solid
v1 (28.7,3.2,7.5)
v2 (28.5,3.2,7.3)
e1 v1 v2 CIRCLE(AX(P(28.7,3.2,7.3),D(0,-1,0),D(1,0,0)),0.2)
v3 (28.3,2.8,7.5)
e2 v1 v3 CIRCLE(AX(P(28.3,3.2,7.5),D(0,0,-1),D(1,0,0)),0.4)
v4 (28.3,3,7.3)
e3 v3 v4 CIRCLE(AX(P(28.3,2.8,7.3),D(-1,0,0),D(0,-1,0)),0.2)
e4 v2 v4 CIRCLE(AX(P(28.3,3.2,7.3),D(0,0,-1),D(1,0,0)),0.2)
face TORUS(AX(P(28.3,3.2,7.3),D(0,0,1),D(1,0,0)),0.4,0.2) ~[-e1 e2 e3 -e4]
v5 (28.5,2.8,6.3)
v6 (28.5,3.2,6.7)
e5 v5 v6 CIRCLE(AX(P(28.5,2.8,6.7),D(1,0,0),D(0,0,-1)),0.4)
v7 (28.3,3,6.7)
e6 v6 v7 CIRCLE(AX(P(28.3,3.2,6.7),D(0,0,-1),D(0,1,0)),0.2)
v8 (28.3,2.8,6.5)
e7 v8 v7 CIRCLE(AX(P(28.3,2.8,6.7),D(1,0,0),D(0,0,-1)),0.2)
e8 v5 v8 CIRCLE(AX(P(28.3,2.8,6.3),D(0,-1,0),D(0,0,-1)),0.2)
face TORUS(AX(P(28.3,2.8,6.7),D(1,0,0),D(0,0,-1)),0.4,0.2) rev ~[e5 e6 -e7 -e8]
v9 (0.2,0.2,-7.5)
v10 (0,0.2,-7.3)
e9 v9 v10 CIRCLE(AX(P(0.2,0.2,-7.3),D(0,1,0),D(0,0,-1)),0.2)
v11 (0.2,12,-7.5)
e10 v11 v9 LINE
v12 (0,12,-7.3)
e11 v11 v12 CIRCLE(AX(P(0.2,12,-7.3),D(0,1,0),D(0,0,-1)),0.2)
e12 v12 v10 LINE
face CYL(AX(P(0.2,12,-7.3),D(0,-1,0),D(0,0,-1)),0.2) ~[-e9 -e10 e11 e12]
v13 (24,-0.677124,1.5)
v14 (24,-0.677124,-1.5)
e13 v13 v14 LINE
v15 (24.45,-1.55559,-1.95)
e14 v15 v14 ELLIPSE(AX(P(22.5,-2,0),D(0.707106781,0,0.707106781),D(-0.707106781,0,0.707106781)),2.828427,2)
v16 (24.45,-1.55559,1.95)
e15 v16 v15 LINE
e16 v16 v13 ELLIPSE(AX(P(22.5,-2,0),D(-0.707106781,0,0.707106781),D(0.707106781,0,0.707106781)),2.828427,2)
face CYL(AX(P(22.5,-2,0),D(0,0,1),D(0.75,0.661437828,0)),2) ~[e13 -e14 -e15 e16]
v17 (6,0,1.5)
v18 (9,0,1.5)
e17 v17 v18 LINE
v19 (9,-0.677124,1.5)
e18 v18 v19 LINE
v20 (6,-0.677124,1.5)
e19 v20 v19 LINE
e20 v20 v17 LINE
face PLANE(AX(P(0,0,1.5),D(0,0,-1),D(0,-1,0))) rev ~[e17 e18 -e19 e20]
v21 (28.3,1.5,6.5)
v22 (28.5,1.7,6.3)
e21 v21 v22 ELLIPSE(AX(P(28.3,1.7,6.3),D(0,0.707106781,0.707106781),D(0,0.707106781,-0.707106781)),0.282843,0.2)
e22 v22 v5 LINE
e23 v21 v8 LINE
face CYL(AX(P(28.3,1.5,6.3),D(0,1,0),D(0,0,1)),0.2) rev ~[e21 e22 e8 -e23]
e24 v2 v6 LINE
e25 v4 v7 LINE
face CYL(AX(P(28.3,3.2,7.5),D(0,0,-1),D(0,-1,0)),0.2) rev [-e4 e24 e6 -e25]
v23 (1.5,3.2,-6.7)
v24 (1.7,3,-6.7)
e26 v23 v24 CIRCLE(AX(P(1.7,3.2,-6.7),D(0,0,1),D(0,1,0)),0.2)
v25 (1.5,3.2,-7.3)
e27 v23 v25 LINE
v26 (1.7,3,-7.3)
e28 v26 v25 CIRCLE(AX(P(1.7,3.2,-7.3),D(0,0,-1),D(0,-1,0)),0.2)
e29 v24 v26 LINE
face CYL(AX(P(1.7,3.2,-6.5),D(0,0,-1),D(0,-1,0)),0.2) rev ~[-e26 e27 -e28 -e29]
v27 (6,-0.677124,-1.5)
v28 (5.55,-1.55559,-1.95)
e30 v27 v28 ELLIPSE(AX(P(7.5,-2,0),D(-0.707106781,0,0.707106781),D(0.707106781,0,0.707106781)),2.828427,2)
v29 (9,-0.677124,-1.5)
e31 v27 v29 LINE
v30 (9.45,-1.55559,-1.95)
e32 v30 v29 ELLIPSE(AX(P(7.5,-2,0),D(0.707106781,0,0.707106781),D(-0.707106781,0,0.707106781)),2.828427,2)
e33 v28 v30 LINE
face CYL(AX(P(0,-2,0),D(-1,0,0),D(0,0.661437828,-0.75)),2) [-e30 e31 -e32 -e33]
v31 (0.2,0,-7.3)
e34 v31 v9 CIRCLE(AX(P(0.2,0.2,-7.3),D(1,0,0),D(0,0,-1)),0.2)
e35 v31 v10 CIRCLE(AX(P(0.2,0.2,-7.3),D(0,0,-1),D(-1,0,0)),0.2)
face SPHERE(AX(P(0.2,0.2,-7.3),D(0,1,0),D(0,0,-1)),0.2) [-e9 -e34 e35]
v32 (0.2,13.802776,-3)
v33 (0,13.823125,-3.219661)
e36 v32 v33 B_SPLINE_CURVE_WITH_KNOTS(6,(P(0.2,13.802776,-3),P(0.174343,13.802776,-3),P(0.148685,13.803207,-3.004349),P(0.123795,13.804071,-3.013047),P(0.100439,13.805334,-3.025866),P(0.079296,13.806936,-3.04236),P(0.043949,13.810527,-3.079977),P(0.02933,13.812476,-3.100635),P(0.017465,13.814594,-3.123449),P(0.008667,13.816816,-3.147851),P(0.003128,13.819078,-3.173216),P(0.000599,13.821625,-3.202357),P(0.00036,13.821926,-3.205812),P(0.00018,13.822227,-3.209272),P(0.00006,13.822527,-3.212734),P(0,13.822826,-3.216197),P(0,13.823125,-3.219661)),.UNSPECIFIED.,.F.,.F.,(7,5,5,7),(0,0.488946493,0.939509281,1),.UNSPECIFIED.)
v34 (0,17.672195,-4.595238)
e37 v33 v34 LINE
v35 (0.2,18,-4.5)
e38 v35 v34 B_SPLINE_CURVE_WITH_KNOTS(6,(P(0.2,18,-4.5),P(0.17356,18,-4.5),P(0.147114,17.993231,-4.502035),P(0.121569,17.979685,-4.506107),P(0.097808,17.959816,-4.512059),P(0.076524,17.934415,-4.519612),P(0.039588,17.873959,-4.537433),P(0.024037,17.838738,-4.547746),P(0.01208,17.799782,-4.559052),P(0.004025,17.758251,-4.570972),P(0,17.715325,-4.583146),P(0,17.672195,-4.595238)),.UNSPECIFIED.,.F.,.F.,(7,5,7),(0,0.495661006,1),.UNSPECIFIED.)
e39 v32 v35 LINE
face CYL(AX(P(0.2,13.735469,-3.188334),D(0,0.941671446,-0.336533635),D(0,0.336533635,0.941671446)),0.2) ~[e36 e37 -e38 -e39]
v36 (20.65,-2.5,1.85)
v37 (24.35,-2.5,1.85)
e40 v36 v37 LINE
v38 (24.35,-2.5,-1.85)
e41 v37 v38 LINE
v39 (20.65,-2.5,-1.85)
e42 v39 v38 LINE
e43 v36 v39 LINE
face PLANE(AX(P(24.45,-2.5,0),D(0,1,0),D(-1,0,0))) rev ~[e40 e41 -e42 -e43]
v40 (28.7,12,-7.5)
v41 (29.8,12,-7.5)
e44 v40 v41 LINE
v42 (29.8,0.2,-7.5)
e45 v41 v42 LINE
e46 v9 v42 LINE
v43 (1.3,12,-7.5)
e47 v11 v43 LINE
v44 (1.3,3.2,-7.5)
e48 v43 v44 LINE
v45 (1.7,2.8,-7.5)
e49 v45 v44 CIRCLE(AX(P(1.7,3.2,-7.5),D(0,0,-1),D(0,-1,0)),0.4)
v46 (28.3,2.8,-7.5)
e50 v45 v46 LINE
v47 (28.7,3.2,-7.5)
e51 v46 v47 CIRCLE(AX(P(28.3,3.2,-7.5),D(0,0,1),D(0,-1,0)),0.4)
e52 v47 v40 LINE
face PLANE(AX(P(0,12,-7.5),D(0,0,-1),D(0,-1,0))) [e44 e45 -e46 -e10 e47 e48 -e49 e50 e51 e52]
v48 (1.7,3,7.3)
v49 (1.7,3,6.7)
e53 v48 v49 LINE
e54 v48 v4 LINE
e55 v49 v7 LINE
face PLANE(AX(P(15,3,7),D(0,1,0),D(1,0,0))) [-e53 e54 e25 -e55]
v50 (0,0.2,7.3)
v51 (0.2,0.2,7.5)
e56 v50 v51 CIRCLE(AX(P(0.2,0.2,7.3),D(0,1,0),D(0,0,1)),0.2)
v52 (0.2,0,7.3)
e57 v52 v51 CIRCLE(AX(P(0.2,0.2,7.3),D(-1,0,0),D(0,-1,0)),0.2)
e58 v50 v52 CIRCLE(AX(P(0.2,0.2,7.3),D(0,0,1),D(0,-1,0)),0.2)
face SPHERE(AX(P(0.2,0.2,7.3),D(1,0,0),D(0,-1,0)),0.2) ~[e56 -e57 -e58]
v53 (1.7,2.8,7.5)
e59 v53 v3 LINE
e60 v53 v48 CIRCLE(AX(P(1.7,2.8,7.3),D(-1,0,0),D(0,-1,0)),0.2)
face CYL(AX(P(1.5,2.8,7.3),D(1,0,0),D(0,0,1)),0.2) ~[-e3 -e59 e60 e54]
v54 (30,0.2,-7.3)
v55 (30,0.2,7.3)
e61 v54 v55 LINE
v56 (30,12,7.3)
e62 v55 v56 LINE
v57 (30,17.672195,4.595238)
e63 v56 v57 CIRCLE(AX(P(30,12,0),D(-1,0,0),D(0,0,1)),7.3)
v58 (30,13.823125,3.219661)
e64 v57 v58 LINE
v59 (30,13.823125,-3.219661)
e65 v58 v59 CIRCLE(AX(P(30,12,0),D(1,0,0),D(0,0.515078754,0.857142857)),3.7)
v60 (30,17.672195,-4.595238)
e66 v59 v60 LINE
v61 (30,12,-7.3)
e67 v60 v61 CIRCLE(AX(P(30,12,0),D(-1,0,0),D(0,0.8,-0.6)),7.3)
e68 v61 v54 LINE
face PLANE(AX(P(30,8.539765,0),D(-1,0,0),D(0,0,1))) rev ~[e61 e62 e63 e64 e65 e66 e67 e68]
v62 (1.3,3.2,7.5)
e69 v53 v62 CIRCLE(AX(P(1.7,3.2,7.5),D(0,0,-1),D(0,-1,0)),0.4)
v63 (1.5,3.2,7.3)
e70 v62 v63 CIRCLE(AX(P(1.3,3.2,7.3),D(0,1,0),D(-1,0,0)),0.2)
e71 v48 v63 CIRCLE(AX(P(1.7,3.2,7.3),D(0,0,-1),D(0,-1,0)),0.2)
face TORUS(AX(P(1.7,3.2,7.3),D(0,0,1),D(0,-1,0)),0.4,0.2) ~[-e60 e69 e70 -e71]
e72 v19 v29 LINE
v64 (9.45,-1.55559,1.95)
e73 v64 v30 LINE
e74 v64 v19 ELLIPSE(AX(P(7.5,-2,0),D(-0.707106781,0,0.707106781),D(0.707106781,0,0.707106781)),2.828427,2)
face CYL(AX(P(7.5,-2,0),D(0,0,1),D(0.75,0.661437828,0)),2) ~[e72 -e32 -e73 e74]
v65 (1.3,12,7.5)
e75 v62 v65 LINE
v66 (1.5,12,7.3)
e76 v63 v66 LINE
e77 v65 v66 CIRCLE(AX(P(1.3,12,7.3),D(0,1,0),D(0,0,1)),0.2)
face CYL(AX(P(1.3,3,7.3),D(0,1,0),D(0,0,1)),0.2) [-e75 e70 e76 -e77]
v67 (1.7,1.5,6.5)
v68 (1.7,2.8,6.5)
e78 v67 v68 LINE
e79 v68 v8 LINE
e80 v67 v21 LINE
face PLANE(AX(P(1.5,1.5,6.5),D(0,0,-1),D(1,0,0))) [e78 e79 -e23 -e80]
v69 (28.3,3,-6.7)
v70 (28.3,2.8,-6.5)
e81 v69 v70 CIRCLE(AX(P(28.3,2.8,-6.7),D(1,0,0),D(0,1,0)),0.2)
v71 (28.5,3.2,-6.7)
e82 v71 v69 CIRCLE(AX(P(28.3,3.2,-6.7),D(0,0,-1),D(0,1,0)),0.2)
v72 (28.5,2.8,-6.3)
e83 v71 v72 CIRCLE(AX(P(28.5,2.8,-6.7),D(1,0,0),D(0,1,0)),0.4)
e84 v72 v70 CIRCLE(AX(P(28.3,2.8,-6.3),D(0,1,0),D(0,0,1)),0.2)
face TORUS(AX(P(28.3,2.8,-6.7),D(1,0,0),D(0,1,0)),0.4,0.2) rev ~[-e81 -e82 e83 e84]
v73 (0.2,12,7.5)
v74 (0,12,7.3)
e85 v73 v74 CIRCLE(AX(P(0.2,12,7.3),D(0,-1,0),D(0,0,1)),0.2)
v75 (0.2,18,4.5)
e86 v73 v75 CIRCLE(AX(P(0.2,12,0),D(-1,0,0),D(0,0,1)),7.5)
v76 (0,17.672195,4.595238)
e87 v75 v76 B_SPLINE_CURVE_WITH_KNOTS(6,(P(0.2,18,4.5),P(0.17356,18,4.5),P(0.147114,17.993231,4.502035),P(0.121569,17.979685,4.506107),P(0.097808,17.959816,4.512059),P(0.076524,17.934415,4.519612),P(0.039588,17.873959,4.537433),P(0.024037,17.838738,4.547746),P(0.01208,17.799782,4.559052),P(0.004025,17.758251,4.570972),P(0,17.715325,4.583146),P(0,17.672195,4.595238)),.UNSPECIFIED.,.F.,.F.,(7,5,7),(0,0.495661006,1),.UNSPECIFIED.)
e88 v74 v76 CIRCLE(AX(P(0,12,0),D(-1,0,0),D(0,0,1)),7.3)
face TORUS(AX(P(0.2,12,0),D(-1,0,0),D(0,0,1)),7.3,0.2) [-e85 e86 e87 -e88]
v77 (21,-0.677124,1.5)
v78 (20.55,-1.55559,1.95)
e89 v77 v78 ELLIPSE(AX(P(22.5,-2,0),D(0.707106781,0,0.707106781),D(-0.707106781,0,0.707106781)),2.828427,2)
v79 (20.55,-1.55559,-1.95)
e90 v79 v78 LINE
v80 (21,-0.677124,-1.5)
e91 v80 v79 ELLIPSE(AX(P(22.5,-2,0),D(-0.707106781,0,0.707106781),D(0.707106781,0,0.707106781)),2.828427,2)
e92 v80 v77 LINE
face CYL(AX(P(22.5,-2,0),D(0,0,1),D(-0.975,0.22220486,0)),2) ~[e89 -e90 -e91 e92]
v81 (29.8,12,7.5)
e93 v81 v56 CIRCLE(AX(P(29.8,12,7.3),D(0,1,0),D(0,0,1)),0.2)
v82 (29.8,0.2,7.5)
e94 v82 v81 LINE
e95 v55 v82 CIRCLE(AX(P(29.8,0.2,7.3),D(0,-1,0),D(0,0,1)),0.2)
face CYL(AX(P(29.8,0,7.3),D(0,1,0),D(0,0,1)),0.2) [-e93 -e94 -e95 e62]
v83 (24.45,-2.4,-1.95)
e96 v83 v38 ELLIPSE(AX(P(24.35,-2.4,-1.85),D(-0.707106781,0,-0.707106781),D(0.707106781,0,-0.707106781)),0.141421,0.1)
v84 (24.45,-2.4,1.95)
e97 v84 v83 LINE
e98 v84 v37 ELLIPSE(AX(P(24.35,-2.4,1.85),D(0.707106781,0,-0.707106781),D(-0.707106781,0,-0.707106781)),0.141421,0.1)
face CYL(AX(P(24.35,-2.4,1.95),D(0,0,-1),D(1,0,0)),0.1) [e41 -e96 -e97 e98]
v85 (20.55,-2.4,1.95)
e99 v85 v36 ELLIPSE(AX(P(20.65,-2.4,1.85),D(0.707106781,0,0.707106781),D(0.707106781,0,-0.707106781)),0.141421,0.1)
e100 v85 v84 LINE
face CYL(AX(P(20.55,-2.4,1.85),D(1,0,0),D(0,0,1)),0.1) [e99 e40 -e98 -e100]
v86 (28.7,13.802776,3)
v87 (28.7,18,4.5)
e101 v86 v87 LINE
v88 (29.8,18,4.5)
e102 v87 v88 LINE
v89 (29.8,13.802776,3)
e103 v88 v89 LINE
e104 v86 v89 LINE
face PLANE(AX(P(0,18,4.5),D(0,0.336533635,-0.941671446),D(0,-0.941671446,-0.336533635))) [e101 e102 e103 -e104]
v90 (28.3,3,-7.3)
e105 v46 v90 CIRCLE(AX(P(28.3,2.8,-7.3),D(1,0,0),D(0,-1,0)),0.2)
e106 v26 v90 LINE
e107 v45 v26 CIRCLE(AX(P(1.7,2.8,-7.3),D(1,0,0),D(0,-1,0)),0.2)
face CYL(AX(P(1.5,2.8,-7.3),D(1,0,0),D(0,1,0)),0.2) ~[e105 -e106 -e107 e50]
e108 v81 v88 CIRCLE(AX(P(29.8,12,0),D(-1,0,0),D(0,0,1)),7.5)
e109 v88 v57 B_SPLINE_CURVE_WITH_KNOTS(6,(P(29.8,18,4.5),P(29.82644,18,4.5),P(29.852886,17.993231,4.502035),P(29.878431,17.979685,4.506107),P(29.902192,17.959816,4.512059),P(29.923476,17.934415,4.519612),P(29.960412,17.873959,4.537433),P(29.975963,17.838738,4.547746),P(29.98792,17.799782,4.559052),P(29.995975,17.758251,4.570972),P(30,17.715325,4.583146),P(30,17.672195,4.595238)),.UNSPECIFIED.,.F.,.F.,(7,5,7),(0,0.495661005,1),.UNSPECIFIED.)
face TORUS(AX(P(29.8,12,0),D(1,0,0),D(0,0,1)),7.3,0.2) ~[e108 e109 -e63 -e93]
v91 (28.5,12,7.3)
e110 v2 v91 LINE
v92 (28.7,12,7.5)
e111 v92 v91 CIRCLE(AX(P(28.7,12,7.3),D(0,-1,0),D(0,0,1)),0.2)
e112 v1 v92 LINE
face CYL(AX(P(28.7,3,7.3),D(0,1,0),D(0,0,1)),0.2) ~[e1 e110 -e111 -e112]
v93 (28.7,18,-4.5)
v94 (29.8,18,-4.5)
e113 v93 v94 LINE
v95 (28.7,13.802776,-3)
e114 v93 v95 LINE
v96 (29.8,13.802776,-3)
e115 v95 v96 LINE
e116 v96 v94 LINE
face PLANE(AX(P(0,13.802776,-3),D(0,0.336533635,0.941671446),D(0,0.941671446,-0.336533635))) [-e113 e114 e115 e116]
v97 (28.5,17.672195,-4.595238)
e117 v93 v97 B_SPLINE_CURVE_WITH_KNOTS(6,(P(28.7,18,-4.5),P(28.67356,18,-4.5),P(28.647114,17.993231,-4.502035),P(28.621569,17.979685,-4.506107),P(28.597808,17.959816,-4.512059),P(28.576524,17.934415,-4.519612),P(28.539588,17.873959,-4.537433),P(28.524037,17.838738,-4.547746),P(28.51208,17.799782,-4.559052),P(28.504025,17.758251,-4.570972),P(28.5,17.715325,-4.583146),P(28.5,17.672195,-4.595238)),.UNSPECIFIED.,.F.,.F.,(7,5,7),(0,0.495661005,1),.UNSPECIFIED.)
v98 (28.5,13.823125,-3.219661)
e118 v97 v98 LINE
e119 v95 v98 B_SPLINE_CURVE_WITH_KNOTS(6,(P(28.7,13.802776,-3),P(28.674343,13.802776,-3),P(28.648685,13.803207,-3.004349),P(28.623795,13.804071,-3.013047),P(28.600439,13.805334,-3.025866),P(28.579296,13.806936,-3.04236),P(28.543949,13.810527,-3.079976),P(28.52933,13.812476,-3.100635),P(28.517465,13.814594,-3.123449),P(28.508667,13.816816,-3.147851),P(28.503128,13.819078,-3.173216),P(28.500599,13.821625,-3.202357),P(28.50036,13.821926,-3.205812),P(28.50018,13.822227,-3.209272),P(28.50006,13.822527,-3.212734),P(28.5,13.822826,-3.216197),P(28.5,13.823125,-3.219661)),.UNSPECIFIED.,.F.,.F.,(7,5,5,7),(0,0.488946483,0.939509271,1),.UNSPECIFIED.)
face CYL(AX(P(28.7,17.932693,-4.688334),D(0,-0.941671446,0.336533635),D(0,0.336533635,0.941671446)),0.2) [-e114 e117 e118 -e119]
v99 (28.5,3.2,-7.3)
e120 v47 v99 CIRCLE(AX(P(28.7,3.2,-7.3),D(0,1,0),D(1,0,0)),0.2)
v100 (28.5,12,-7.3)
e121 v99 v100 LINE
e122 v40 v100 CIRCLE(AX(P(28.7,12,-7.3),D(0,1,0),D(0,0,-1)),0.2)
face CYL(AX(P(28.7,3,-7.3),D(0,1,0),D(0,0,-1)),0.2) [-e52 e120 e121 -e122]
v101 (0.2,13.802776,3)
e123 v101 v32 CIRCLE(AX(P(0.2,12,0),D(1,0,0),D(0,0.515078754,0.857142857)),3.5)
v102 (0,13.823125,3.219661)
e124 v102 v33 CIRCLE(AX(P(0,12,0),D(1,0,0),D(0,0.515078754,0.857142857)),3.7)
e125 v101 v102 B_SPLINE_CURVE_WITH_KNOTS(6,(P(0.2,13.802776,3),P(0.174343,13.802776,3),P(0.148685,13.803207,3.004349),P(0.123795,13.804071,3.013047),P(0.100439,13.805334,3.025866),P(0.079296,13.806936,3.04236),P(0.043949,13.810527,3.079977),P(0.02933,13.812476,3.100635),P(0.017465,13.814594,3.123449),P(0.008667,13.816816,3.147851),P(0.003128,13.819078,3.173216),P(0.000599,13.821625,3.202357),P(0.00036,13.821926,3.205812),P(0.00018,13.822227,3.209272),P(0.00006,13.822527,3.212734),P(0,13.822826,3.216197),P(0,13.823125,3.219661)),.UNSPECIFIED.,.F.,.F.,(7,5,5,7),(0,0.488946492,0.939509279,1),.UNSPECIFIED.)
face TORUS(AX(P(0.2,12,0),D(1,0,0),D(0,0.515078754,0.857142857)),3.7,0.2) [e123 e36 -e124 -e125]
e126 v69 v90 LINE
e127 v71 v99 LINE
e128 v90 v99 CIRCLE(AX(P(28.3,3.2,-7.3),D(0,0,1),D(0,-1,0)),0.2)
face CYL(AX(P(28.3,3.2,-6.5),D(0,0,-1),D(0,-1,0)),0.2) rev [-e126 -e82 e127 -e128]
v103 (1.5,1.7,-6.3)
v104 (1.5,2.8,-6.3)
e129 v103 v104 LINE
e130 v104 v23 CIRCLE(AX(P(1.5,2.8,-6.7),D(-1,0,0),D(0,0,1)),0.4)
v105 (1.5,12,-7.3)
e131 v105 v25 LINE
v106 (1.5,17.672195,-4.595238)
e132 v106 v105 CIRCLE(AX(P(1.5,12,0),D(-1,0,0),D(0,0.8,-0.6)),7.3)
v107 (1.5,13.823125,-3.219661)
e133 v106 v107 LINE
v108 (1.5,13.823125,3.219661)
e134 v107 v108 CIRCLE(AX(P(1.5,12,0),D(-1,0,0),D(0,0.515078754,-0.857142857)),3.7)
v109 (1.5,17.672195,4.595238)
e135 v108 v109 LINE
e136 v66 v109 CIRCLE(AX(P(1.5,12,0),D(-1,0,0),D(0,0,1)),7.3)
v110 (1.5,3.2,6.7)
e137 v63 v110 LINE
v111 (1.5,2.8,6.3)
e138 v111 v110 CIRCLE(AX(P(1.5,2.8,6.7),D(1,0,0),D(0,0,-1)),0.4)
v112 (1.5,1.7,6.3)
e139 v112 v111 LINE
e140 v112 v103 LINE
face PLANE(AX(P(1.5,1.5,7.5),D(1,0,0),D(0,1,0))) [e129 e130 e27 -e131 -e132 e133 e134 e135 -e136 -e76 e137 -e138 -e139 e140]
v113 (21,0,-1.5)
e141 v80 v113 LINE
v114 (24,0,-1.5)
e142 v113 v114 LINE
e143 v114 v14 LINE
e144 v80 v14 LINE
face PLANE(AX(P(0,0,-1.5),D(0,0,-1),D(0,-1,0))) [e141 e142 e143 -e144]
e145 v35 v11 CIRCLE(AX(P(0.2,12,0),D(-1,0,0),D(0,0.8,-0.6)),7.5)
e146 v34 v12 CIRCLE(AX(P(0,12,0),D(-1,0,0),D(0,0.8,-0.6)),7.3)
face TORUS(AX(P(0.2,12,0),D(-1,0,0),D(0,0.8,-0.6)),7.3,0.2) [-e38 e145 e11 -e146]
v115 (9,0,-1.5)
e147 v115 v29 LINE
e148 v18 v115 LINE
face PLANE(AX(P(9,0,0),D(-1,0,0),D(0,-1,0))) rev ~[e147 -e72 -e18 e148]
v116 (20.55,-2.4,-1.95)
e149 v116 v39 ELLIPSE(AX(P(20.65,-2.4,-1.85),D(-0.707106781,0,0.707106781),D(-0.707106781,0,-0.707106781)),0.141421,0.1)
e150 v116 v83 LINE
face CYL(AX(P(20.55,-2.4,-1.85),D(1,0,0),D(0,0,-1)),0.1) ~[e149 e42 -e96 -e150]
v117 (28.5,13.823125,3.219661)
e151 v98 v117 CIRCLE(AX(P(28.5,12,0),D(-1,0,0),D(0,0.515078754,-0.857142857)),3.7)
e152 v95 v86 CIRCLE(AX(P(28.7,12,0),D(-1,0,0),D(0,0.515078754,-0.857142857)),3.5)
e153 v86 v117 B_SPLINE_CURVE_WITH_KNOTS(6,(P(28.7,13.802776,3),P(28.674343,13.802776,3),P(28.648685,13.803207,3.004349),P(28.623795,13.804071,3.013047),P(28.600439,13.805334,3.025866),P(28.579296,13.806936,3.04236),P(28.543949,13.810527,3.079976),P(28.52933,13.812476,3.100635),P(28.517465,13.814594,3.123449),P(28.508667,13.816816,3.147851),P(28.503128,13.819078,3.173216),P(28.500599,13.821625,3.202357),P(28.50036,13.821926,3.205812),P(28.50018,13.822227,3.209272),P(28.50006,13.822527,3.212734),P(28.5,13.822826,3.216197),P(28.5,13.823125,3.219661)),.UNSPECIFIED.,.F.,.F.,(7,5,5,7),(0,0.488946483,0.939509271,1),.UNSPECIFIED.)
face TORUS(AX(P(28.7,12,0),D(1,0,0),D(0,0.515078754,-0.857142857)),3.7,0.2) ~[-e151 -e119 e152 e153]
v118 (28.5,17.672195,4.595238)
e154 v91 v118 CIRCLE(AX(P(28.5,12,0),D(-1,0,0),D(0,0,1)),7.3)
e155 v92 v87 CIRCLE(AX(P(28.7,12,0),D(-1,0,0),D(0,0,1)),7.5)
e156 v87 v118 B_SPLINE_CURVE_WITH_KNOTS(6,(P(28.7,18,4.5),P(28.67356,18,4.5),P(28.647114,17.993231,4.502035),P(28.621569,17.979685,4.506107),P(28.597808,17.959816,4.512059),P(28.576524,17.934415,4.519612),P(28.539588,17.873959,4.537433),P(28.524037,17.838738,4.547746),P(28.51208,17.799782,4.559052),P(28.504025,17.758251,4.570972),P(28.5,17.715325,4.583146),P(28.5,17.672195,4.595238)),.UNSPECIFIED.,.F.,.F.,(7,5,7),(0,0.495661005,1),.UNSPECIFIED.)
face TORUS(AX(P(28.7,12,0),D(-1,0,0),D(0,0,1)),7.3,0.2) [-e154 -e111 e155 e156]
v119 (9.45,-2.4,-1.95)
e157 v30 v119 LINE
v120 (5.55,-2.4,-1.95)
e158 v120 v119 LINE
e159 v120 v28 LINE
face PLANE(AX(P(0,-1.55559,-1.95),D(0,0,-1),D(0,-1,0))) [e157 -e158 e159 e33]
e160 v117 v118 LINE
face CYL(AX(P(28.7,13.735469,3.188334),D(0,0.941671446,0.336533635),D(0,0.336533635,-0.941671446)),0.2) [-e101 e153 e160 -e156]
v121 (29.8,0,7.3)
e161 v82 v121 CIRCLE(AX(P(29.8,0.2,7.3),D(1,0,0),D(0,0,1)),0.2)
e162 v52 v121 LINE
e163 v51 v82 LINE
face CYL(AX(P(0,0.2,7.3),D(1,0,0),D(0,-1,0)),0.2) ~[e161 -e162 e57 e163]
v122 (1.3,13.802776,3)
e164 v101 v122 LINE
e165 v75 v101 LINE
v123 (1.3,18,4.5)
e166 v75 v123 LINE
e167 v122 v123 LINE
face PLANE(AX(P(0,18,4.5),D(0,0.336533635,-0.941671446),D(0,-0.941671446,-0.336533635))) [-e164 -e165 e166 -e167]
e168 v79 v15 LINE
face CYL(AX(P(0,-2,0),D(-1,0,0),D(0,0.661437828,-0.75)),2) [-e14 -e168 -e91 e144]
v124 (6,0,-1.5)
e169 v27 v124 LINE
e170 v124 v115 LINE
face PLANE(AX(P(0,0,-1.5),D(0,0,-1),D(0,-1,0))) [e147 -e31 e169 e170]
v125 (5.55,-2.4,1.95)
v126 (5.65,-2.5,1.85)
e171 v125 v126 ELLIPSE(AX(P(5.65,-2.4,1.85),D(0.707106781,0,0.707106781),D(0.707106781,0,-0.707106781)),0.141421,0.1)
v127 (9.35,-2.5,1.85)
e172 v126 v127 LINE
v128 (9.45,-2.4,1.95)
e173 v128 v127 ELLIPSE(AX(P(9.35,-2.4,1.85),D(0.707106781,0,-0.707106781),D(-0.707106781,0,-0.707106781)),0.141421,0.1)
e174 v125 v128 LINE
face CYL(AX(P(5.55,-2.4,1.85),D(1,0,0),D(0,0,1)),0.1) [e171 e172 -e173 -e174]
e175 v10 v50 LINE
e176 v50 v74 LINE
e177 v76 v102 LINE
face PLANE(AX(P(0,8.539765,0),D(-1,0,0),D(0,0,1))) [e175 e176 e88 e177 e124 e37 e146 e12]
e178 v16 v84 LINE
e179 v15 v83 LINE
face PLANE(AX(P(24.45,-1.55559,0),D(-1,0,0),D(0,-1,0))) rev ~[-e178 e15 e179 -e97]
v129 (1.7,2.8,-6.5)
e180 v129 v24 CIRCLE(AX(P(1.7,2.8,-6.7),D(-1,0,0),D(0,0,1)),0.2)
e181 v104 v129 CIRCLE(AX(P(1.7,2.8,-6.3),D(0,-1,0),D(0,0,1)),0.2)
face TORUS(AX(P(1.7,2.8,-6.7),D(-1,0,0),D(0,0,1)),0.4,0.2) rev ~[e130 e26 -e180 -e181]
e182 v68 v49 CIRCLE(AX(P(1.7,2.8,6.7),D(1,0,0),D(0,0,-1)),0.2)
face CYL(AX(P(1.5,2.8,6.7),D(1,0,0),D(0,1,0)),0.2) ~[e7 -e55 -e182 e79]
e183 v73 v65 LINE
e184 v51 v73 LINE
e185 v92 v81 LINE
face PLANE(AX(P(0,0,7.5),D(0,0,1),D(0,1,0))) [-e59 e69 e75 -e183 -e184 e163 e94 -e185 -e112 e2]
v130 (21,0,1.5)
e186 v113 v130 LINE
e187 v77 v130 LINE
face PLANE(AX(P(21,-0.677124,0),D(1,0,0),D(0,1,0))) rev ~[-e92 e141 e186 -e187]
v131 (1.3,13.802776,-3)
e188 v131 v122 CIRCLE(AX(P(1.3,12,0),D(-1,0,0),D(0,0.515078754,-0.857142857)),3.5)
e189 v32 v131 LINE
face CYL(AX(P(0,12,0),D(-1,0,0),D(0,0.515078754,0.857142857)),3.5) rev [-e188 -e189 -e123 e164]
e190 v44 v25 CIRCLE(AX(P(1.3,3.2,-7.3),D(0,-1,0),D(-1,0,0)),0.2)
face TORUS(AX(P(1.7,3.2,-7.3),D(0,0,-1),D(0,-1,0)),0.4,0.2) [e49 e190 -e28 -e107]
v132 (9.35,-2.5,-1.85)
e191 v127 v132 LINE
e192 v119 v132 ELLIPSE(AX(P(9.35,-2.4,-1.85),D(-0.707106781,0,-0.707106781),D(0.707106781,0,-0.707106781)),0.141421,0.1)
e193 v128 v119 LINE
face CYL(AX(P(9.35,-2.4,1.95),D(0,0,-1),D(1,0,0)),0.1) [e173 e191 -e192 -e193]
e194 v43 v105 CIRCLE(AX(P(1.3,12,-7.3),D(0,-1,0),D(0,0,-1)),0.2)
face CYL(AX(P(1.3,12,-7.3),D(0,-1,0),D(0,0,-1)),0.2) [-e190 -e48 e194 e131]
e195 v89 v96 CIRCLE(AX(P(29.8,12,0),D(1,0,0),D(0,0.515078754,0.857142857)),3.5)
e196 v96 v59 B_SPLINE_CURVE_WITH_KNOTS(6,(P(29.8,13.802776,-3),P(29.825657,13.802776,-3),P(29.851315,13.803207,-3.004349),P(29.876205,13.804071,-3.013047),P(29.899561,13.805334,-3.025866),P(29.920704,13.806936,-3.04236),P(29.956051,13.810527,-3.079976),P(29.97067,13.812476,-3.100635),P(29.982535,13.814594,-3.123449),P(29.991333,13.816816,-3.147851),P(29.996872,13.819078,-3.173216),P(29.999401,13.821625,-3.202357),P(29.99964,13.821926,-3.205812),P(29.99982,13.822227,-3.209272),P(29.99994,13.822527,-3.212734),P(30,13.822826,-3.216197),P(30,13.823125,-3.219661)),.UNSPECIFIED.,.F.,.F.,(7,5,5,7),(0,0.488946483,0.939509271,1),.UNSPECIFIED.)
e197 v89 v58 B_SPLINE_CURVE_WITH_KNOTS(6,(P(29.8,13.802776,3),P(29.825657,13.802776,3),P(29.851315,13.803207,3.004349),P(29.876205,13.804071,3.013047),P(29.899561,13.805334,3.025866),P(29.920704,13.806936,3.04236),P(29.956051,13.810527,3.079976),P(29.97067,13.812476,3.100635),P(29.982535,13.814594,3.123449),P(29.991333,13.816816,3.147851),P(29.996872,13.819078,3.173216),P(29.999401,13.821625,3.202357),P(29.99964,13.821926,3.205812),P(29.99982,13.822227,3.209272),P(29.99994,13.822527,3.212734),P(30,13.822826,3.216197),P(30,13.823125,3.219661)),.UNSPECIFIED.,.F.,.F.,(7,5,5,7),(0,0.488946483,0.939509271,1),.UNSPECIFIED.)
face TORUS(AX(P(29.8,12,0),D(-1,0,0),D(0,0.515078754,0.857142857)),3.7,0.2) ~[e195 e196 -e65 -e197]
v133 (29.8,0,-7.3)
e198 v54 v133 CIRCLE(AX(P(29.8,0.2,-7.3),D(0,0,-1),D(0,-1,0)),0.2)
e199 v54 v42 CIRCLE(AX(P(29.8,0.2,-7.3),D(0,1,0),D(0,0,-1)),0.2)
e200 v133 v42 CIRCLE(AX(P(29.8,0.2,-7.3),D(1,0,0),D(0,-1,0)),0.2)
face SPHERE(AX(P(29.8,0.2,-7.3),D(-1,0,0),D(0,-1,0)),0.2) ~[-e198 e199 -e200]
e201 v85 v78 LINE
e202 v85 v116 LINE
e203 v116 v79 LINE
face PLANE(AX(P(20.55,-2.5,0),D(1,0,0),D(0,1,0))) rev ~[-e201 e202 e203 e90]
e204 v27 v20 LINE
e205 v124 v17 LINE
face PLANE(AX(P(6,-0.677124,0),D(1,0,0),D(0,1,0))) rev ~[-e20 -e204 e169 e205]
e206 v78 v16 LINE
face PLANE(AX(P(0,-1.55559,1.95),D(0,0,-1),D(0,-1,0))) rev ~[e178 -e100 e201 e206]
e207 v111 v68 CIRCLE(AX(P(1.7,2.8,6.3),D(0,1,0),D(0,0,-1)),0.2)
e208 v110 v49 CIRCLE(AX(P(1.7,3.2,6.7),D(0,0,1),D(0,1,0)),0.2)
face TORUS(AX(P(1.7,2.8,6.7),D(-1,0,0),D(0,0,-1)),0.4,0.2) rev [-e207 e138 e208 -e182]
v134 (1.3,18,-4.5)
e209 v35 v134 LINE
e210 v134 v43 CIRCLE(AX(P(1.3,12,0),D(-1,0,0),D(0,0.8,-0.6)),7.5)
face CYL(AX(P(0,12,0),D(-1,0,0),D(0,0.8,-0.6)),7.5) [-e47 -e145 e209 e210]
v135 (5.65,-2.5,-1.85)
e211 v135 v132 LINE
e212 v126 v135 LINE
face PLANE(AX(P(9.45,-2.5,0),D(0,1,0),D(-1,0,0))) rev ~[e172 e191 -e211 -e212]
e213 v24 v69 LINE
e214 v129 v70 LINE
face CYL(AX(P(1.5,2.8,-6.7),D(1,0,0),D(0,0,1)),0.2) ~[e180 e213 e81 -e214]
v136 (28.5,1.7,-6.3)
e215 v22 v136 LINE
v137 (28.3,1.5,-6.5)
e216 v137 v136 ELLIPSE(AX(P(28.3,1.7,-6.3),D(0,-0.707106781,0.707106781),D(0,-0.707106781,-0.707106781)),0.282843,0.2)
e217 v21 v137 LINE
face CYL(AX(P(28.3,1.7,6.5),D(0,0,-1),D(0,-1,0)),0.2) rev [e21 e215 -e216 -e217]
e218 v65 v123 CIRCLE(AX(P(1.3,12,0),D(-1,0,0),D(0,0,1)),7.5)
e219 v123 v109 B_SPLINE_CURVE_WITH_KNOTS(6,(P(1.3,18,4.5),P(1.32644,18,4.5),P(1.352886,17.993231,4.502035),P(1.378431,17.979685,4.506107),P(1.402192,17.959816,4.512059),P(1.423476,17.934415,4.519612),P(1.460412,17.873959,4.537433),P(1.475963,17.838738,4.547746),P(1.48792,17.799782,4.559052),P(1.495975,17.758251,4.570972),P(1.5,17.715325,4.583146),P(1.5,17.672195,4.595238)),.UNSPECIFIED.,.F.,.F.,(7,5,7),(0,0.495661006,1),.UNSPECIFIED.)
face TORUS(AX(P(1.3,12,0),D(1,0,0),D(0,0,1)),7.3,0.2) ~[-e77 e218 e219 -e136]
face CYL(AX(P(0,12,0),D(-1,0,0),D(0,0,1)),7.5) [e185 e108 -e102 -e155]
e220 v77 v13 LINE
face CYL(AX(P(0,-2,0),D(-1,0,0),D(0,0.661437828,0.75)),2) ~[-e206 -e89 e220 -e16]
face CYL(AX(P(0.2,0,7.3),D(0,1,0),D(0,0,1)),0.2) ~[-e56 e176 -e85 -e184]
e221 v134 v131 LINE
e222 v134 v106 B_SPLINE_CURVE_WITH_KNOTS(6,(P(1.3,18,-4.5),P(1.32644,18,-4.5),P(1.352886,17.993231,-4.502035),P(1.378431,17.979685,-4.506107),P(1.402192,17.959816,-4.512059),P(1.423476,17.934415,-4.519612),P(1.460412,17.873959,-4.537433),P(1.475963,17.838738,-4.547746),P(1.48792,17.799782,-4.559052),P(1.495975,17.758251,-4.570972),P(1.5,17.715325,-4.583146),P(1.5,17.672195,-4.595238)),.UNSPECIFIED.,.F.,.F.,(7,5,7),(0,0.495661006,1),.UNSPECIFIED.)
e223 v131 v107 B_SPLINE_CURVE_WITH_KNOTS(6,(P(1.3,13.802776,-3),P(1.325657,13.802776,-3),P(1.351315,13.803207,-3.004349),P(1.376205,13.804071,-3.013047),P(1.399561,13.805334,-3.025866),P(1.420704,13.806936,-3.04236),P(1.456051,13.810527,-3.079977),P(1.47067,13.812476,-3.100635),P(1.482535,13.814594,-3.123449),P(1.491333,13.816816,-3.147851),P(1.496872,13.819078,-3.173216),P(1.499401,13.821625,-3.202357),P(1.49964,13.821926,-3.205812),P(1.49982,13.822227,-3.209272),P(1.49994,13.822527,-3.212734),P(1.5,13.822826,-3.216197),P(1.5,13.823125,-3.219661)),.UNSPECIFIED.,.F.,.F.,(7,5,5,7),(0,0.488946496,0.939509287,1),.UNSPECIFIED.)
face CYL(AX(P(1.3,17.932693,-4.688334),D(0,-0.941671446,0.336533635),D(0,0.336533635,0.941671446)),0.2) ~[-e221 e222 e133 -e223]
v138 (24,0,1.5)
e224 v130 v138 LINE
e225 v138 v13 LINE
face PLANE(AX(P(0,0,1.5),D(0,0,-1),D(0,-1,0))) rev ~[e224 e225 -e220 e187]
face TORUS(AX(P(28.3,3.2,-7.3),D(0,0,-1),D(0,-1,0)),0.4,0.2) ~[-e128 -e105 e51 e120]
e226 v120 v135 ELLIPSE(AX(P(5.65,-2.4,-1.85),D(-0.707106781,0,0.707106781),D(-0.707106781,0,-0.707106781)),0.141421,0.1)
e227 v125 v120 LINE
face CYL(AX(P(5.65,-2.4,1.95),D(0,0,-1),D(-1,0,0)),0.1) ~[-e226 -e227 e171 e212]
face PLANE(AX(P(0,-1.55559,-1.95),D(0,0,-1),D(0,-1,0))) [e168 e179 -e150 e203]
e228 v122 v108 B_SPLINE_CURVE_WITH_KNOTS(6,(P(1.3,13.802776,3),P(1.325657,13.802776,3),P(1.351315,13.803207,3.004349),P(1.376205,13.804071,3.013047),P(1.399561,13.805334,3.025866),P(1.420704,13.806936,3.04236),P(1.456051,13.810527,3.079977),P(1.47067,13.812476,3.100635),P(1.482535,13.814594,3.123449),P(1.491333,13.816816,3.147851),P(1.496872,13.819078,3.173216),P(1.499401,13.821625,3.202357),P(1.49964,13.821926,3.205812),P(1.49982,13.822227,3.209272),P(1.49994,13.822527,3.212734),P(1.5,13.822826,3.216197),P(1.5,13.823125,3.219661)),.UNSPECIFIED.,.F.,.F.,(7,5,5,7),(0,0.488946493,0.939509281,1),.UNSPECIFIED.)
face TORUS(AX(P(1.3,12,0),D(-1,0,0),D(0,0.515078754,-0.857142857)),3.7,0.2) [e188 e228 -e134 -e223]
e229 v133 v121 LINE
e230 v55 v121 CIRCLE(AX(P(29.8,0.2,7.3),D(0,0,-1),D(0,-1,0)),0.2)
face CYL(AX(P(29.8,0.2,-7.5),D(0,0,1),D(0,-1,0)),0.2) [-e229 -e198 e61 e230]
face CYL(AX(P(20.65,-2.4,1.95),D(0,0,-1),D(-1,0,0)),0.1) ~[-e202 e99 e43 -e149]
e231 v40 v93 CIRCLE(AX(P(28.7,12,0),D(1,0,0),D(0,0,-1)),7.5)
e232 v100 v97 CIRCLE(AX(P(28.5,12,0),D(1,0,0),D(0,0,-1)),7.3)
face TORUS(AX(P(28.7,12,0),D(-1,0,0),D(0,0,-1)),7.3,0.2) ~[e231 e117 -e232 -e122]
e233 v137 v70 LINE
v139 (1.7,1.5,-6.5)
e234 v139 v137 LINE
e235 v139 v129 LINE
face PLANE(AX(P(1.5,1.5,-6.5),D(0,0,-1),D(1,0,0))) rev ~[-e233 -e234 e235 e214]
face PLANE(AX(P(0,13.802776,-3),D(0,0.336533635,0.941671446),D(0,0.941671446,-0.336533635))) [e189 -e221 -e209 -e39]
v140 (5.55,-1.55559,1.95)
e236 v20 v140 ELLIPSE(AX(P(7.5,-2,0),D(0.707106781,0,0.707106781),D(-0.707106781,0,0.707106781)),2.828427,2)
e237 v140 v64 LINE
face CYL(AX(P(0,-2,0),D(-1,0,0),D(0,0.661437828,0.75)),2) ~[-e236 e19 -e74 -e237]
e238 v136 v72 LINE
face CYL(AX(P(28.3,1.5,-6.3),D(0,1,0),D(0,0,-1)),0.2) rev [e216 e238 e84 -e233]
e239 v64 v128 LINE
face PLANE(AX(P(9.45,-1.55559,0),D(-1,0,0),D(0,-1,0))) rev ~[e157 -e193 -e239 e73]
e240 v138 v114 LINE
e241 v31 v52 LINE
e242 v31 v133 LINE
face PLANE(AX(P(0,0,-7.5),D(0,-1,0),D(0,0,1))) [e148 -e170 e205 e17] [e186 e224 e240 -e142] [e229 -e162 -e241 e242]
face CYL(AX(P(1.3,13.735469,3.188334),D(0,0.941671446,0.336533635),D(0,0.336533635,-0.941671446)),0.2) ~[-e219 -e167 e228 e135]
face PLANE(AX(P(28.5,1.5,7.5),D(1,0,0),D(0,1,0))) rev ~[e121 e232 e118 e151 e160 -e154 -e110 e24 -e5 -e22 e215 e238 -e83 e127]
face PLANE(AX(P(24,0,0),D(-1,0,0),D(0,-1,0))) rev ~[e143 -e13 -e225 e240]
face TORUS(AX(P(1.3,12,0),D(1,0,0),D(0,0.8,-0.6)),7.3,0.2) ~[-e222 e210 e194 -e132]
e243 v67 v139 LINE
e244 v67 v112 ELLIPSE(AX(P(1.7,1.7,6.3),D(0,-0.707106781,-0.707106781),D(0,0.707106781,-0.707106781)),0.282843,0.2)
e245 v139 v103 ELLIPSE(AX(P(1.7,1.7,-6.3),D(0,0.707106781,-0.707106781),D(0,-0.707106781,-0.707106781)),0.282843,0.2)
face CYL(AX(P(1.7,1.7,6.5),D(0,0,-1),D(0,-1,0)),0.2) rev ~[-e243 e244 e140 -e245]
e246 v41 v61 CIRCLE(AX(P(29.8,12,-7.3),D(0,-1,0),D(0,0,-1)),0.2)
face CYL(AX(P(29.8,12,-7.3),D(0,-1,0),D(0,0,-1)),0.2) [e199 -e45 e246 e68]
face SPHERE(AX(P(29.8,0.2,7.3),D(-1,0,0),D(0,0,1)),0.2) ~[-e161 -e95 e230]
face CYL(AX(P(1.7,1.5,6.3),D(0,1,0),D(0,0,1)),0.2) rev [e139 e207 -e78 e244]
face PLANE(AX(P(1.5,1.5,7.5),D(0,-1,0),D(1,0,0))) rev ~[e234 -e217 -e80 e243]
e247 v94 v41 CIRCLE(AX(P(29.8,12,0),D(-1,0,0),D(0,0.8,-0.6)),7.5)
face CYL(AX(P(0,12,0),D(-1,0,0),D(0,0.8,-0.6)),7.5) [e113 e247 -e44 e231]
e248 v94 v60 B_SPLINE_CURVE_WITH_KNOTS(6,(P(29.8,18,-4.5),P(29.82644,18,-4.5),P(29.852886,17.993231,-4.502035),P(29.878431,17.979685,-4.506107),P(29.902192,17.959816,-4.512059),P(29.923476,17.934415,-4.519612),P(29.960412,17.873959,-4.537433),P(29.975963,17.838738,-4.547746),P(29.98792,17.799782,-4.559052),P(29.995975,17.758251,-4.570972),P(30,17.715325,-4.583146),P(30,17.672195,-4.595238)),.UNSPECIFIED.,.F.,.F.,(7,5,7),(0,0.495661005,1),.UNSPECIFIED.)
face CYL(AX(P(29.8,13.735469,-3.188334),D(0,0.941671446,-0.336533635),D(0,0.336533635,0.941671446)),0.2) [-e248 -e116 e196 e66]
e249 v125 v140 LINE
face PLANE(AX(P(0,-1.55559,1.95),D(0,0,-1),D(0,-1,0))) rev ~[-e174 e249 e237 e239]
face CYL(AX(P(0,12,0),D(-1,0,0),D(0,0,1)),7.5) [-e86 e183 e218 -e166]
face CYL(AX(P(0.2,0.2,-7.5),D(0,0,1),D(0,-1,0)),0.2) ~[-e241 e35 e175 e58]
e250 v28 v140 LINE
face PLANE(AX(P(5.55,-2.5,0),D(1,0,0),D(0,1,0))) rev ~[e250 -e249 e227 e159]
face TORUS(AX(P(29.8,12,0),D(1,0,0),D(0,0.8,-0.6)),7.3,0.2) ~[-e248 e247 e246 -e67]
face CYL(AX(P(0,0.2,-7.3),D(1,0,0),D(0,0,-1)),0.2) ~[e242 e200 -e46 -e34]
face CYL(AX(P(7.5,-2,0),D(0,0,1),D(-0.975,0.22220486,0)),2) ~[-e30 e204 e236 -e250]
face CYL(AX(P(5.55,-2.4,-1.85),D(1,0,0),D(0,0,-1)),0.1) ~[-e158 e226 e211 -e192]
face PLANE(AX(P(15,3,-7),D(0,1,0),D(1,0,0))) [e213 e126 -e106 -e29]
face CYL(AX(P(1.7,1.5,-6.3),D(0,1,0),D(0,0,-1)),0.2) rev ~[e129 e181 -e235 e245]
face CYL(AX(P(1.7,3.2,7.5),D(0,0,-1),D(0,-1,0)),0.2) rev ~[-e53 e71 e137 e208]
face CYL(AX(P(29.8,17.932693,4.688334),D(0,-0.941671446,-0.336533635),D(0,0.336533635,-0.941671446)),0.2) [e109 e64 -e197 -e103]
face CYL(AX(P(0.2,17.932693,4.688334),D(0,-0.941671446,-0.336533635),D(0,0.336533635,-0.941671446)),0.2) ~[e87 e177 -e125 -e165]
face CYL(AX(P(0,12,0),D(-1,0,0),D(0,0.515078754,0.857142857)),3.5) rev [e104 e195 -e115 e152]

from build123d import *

# Parameters (mm, degrees)
EXTRUDE_1_DEPTH        = 30
CUT_EXTRUDE_1_REACH    = 40.066
SKETCH_2_W             = 27
SKETCH_2_H             = 16.5
SKETCH_3_W             = 27
SKETCH_3_H             = 1
EXTRUDE_2_DEPTH        = 1.5
EXTRUDE_3_DEPTH        = 2
PATTERN_LINEAR_1_COUNT = 2
PATTERN_LINEAR_1_PITCH = 15
CUT_EXTRUDE_2_DEPTH    = 36.780581326
FILLET_1_R             = 0.2
FILLET_2_R             = 0.1


with BuildPart() as part:
    # 草图1 → 凸台-拉伸1 (new body)
    with BuildSketch(Plane(origin=(0, 0, 0), x_dir=(0, 0, -1), z_dir=(1, 0, 0))):
        with BuildLine():
            Line((7.5, 0), (-7.5, 0))
            Line((-7.5, 0), (-7.5, 12))
            ThreePointArc((-7.5, 12), (-6.708203932, 15.354101966), (-4.5, 18))
            Line((-4.5, 18), (-3, 13.802775638))
            ThreePointArc((-3, 13.802775638), (0, 8.5), (3, 13.802775638))
            Line((3, 13.802775638), (4.5, 18))
            ThreePointArc((4.5, 18), (6.708203932, 15.354101966), (7.5, 12))
            Line((7.5, 12), (7.5, 0))
        make_face()
    extrude(amount=EXTRUDE_1_DEPTH)

    # 草图2 → 切除-拉伸1 (cut, up to next)
    with BuildSketch(Plane.XY.offset(7.5), mode=Mode.PRIVATE) as cut_extrude_1_sk1:
        with Locations((15, 9.75)):
            Rectangle(SKETCH_2_W, SKETCH_2_H)
    cut_extrude_1_tool1 = extrude(cut_extrude_1_sk1.sketch, amount=-CUT_EXTRUDE_1_REACH, mode=Mode.PRIVATE) & part.part
    add(cut_extrude_1_tool1.solids().sort_by_distance((15, 9.75, 7.5))[0], mode=Mode.SUBTRACT)

    # 草图3 → 凸台-拉伸2 (add)
    with BuildSketch(Plane(origin=(0, 1.5, 0), x_dir=(1, 0, 0), z_dir=(0, 1, 0))):
        with Locations((15, 7)):
            Rectangle(SKETCH_3_W, SKETCH_3_H)
        with Locations((15, -7)):
            Rectangle(SKETCH_3_W, SKETCH_3_H)
    extrude(amount=EXTRUDE_2_DEPTH)

    # 草图4 → 凸台-拉伸3 (add, symmetric)
    with BuildSketch(Plane.XY):
        with BuildLine():
            Line((6, 0), (9, 0))
            Line((9, 0), (9, -0.677124344))
            ThreePointArc((9, -0.677124344), (9.280042303, -1.088161527), (9.45, -1.555590279))
            Line((9.45, -1.555590279), (9.45, -2.5))
            Line((9.45, -2.5), (5.55, -2.5))
            Line((5.55, -2.5), (5.55, -1.555590279))
            ThreePointArc((5.55, -1.555590279), (5.719957697, -1.088161527), (6, -0.677124344))
            Line((6, -0.677124344), (6, 0))
        make_face()
    extrude_3 = extrude(amount=EXTRUDE_3_DEPTH, both=True)

    # 阵列(线性)1: 凸台-拉伸3 ×2
    with Locations(*[(i * PATTERN_LINEAR_1_PITCH, 0, 0) for i in range(1, PATTERN_LINEAR_1_COUNT)]):
        add(extrude_3)

    # 草图5 → 切除-拉伸2 (cut, through all)
    with BuildSketch(Plane.ZY):
        with BuildLine():
            Line((1.5, 0), (1.5, -0.677124344))
            ThreePointArc((1.5, -0.677124344), (1.780042303, -1.088161527), (1.95, -1.555590279))
            Line((1.95, -1.555590279), (1.95, -2.5))
            Line((1.95, -2.5), (2, -2.5))
            Line((2, -2.5), (2, 0))
            Line((2, 0), (1.5, 0))
        make_face()
        with BuildLine():
            Line((-2, 0), (-1.5, 0))
            Line((-1.5, 0), (-1.5, -0.677124344))
            ThreePointArc((-1.5, -0.677124344), (-1.780042303, -1.088161527), (-1.95, -1.555590279))
            Line((-1.95, -1.555590279), (-1.95, -2.5))
            Line((-1.95, -2.5), (-2, -2.5))
            Line((-2, -2.5), (-2, 0))
        make_face()
    extrude(amount=-CUT_EXTRUDE_2_DEPTH, mode=Mode.SUBTRACT)

    # 圆角1
    fillet_1_edges = [part.edges().sort_by_distance(p)[0] for p in [
        (30, 15.901387819, -3.75),
        (0, 15.354101966, -6.708203932),
        (0, 6, -7.5),
        (30, 8.5, 0),
        (15, 0, -7.5),
        (15, 0, 7.5),
        (30, 15.901387819, 3.75),
        (30, 15.354101966, 6.708203932),
        (30, 6, 7.5),
        (30, 0, 0),
        (28.5, 7.5, -7.5),
        (1.5, 15.354101966, -6.708203932),
        (28.5, 15.354101966, -6.708203932),
        (1.5, 15.901387819, -3.75),
        (28.5, 15.901387819, -3.75),
        (1.5, 8.5, 0),
        (28.5, 8.5, 0),
        (1.5, 15.901387819, 3.75),
        (28.5, 15.901387819, 3.75),
        (1.5, 15.354101966, 6.708203932),
        (28.5, 15.354101966, 6.708203932),
        (1.5, 7.5, 7.5),
        (30, 6, -7.5),
        (1.5, 1.5, 0),
        (28.5, 1.5, 0),
        (1.5, 7.5, -7.5),
        (1.5, 2.25, -6.5),
        (28.5, 2.25, -6.5),
        (1.5, 3, -7),
        (15, 3, -6.5),
        (28.5, 3, -7),
        (15, 3, -7.5),
        (28.5, 7.5, 7.5),
        (1.5, 2.25, 6.5),
        (28.5, 2.25, 6.5),
        (1.5, 3, 7),
        (15, 3, 7.5),
        (28.5, 3, 7),
        (30, 15.354101966, -6.708203932),
        (15, 3, 6.5),
        (0, 0, 0),
        (0, 6, 7.5),
        (0, 15.354101966, 6.708203932),
        (0, 15.901387819, 3.75),
        (0, 8.5, 0),
        (0, 15.901387819, -3.75),
    ]]
    fillet(fillet_1_edges, radius=FILLET_1_R)

    # 圆角2
    fillet_2_edges = [part.edges().sort_by_distance(p)[0] for p in [
        (24.45, -2.5, 0),
        (20.55, -2.5, 0),
        (9.45, -2.5, 0),
        (5.55, -2.5, 0),
        (7.5, -2.5, -1.95),
        (22.5, -2.5, -1.95),
        (7.5, -2.5, 1.95),
        (22.5, -2.5, 1.95),
    ]]
    fillet(fillet_2_edges, radius=FILLET_2_R)


solid = part.part
